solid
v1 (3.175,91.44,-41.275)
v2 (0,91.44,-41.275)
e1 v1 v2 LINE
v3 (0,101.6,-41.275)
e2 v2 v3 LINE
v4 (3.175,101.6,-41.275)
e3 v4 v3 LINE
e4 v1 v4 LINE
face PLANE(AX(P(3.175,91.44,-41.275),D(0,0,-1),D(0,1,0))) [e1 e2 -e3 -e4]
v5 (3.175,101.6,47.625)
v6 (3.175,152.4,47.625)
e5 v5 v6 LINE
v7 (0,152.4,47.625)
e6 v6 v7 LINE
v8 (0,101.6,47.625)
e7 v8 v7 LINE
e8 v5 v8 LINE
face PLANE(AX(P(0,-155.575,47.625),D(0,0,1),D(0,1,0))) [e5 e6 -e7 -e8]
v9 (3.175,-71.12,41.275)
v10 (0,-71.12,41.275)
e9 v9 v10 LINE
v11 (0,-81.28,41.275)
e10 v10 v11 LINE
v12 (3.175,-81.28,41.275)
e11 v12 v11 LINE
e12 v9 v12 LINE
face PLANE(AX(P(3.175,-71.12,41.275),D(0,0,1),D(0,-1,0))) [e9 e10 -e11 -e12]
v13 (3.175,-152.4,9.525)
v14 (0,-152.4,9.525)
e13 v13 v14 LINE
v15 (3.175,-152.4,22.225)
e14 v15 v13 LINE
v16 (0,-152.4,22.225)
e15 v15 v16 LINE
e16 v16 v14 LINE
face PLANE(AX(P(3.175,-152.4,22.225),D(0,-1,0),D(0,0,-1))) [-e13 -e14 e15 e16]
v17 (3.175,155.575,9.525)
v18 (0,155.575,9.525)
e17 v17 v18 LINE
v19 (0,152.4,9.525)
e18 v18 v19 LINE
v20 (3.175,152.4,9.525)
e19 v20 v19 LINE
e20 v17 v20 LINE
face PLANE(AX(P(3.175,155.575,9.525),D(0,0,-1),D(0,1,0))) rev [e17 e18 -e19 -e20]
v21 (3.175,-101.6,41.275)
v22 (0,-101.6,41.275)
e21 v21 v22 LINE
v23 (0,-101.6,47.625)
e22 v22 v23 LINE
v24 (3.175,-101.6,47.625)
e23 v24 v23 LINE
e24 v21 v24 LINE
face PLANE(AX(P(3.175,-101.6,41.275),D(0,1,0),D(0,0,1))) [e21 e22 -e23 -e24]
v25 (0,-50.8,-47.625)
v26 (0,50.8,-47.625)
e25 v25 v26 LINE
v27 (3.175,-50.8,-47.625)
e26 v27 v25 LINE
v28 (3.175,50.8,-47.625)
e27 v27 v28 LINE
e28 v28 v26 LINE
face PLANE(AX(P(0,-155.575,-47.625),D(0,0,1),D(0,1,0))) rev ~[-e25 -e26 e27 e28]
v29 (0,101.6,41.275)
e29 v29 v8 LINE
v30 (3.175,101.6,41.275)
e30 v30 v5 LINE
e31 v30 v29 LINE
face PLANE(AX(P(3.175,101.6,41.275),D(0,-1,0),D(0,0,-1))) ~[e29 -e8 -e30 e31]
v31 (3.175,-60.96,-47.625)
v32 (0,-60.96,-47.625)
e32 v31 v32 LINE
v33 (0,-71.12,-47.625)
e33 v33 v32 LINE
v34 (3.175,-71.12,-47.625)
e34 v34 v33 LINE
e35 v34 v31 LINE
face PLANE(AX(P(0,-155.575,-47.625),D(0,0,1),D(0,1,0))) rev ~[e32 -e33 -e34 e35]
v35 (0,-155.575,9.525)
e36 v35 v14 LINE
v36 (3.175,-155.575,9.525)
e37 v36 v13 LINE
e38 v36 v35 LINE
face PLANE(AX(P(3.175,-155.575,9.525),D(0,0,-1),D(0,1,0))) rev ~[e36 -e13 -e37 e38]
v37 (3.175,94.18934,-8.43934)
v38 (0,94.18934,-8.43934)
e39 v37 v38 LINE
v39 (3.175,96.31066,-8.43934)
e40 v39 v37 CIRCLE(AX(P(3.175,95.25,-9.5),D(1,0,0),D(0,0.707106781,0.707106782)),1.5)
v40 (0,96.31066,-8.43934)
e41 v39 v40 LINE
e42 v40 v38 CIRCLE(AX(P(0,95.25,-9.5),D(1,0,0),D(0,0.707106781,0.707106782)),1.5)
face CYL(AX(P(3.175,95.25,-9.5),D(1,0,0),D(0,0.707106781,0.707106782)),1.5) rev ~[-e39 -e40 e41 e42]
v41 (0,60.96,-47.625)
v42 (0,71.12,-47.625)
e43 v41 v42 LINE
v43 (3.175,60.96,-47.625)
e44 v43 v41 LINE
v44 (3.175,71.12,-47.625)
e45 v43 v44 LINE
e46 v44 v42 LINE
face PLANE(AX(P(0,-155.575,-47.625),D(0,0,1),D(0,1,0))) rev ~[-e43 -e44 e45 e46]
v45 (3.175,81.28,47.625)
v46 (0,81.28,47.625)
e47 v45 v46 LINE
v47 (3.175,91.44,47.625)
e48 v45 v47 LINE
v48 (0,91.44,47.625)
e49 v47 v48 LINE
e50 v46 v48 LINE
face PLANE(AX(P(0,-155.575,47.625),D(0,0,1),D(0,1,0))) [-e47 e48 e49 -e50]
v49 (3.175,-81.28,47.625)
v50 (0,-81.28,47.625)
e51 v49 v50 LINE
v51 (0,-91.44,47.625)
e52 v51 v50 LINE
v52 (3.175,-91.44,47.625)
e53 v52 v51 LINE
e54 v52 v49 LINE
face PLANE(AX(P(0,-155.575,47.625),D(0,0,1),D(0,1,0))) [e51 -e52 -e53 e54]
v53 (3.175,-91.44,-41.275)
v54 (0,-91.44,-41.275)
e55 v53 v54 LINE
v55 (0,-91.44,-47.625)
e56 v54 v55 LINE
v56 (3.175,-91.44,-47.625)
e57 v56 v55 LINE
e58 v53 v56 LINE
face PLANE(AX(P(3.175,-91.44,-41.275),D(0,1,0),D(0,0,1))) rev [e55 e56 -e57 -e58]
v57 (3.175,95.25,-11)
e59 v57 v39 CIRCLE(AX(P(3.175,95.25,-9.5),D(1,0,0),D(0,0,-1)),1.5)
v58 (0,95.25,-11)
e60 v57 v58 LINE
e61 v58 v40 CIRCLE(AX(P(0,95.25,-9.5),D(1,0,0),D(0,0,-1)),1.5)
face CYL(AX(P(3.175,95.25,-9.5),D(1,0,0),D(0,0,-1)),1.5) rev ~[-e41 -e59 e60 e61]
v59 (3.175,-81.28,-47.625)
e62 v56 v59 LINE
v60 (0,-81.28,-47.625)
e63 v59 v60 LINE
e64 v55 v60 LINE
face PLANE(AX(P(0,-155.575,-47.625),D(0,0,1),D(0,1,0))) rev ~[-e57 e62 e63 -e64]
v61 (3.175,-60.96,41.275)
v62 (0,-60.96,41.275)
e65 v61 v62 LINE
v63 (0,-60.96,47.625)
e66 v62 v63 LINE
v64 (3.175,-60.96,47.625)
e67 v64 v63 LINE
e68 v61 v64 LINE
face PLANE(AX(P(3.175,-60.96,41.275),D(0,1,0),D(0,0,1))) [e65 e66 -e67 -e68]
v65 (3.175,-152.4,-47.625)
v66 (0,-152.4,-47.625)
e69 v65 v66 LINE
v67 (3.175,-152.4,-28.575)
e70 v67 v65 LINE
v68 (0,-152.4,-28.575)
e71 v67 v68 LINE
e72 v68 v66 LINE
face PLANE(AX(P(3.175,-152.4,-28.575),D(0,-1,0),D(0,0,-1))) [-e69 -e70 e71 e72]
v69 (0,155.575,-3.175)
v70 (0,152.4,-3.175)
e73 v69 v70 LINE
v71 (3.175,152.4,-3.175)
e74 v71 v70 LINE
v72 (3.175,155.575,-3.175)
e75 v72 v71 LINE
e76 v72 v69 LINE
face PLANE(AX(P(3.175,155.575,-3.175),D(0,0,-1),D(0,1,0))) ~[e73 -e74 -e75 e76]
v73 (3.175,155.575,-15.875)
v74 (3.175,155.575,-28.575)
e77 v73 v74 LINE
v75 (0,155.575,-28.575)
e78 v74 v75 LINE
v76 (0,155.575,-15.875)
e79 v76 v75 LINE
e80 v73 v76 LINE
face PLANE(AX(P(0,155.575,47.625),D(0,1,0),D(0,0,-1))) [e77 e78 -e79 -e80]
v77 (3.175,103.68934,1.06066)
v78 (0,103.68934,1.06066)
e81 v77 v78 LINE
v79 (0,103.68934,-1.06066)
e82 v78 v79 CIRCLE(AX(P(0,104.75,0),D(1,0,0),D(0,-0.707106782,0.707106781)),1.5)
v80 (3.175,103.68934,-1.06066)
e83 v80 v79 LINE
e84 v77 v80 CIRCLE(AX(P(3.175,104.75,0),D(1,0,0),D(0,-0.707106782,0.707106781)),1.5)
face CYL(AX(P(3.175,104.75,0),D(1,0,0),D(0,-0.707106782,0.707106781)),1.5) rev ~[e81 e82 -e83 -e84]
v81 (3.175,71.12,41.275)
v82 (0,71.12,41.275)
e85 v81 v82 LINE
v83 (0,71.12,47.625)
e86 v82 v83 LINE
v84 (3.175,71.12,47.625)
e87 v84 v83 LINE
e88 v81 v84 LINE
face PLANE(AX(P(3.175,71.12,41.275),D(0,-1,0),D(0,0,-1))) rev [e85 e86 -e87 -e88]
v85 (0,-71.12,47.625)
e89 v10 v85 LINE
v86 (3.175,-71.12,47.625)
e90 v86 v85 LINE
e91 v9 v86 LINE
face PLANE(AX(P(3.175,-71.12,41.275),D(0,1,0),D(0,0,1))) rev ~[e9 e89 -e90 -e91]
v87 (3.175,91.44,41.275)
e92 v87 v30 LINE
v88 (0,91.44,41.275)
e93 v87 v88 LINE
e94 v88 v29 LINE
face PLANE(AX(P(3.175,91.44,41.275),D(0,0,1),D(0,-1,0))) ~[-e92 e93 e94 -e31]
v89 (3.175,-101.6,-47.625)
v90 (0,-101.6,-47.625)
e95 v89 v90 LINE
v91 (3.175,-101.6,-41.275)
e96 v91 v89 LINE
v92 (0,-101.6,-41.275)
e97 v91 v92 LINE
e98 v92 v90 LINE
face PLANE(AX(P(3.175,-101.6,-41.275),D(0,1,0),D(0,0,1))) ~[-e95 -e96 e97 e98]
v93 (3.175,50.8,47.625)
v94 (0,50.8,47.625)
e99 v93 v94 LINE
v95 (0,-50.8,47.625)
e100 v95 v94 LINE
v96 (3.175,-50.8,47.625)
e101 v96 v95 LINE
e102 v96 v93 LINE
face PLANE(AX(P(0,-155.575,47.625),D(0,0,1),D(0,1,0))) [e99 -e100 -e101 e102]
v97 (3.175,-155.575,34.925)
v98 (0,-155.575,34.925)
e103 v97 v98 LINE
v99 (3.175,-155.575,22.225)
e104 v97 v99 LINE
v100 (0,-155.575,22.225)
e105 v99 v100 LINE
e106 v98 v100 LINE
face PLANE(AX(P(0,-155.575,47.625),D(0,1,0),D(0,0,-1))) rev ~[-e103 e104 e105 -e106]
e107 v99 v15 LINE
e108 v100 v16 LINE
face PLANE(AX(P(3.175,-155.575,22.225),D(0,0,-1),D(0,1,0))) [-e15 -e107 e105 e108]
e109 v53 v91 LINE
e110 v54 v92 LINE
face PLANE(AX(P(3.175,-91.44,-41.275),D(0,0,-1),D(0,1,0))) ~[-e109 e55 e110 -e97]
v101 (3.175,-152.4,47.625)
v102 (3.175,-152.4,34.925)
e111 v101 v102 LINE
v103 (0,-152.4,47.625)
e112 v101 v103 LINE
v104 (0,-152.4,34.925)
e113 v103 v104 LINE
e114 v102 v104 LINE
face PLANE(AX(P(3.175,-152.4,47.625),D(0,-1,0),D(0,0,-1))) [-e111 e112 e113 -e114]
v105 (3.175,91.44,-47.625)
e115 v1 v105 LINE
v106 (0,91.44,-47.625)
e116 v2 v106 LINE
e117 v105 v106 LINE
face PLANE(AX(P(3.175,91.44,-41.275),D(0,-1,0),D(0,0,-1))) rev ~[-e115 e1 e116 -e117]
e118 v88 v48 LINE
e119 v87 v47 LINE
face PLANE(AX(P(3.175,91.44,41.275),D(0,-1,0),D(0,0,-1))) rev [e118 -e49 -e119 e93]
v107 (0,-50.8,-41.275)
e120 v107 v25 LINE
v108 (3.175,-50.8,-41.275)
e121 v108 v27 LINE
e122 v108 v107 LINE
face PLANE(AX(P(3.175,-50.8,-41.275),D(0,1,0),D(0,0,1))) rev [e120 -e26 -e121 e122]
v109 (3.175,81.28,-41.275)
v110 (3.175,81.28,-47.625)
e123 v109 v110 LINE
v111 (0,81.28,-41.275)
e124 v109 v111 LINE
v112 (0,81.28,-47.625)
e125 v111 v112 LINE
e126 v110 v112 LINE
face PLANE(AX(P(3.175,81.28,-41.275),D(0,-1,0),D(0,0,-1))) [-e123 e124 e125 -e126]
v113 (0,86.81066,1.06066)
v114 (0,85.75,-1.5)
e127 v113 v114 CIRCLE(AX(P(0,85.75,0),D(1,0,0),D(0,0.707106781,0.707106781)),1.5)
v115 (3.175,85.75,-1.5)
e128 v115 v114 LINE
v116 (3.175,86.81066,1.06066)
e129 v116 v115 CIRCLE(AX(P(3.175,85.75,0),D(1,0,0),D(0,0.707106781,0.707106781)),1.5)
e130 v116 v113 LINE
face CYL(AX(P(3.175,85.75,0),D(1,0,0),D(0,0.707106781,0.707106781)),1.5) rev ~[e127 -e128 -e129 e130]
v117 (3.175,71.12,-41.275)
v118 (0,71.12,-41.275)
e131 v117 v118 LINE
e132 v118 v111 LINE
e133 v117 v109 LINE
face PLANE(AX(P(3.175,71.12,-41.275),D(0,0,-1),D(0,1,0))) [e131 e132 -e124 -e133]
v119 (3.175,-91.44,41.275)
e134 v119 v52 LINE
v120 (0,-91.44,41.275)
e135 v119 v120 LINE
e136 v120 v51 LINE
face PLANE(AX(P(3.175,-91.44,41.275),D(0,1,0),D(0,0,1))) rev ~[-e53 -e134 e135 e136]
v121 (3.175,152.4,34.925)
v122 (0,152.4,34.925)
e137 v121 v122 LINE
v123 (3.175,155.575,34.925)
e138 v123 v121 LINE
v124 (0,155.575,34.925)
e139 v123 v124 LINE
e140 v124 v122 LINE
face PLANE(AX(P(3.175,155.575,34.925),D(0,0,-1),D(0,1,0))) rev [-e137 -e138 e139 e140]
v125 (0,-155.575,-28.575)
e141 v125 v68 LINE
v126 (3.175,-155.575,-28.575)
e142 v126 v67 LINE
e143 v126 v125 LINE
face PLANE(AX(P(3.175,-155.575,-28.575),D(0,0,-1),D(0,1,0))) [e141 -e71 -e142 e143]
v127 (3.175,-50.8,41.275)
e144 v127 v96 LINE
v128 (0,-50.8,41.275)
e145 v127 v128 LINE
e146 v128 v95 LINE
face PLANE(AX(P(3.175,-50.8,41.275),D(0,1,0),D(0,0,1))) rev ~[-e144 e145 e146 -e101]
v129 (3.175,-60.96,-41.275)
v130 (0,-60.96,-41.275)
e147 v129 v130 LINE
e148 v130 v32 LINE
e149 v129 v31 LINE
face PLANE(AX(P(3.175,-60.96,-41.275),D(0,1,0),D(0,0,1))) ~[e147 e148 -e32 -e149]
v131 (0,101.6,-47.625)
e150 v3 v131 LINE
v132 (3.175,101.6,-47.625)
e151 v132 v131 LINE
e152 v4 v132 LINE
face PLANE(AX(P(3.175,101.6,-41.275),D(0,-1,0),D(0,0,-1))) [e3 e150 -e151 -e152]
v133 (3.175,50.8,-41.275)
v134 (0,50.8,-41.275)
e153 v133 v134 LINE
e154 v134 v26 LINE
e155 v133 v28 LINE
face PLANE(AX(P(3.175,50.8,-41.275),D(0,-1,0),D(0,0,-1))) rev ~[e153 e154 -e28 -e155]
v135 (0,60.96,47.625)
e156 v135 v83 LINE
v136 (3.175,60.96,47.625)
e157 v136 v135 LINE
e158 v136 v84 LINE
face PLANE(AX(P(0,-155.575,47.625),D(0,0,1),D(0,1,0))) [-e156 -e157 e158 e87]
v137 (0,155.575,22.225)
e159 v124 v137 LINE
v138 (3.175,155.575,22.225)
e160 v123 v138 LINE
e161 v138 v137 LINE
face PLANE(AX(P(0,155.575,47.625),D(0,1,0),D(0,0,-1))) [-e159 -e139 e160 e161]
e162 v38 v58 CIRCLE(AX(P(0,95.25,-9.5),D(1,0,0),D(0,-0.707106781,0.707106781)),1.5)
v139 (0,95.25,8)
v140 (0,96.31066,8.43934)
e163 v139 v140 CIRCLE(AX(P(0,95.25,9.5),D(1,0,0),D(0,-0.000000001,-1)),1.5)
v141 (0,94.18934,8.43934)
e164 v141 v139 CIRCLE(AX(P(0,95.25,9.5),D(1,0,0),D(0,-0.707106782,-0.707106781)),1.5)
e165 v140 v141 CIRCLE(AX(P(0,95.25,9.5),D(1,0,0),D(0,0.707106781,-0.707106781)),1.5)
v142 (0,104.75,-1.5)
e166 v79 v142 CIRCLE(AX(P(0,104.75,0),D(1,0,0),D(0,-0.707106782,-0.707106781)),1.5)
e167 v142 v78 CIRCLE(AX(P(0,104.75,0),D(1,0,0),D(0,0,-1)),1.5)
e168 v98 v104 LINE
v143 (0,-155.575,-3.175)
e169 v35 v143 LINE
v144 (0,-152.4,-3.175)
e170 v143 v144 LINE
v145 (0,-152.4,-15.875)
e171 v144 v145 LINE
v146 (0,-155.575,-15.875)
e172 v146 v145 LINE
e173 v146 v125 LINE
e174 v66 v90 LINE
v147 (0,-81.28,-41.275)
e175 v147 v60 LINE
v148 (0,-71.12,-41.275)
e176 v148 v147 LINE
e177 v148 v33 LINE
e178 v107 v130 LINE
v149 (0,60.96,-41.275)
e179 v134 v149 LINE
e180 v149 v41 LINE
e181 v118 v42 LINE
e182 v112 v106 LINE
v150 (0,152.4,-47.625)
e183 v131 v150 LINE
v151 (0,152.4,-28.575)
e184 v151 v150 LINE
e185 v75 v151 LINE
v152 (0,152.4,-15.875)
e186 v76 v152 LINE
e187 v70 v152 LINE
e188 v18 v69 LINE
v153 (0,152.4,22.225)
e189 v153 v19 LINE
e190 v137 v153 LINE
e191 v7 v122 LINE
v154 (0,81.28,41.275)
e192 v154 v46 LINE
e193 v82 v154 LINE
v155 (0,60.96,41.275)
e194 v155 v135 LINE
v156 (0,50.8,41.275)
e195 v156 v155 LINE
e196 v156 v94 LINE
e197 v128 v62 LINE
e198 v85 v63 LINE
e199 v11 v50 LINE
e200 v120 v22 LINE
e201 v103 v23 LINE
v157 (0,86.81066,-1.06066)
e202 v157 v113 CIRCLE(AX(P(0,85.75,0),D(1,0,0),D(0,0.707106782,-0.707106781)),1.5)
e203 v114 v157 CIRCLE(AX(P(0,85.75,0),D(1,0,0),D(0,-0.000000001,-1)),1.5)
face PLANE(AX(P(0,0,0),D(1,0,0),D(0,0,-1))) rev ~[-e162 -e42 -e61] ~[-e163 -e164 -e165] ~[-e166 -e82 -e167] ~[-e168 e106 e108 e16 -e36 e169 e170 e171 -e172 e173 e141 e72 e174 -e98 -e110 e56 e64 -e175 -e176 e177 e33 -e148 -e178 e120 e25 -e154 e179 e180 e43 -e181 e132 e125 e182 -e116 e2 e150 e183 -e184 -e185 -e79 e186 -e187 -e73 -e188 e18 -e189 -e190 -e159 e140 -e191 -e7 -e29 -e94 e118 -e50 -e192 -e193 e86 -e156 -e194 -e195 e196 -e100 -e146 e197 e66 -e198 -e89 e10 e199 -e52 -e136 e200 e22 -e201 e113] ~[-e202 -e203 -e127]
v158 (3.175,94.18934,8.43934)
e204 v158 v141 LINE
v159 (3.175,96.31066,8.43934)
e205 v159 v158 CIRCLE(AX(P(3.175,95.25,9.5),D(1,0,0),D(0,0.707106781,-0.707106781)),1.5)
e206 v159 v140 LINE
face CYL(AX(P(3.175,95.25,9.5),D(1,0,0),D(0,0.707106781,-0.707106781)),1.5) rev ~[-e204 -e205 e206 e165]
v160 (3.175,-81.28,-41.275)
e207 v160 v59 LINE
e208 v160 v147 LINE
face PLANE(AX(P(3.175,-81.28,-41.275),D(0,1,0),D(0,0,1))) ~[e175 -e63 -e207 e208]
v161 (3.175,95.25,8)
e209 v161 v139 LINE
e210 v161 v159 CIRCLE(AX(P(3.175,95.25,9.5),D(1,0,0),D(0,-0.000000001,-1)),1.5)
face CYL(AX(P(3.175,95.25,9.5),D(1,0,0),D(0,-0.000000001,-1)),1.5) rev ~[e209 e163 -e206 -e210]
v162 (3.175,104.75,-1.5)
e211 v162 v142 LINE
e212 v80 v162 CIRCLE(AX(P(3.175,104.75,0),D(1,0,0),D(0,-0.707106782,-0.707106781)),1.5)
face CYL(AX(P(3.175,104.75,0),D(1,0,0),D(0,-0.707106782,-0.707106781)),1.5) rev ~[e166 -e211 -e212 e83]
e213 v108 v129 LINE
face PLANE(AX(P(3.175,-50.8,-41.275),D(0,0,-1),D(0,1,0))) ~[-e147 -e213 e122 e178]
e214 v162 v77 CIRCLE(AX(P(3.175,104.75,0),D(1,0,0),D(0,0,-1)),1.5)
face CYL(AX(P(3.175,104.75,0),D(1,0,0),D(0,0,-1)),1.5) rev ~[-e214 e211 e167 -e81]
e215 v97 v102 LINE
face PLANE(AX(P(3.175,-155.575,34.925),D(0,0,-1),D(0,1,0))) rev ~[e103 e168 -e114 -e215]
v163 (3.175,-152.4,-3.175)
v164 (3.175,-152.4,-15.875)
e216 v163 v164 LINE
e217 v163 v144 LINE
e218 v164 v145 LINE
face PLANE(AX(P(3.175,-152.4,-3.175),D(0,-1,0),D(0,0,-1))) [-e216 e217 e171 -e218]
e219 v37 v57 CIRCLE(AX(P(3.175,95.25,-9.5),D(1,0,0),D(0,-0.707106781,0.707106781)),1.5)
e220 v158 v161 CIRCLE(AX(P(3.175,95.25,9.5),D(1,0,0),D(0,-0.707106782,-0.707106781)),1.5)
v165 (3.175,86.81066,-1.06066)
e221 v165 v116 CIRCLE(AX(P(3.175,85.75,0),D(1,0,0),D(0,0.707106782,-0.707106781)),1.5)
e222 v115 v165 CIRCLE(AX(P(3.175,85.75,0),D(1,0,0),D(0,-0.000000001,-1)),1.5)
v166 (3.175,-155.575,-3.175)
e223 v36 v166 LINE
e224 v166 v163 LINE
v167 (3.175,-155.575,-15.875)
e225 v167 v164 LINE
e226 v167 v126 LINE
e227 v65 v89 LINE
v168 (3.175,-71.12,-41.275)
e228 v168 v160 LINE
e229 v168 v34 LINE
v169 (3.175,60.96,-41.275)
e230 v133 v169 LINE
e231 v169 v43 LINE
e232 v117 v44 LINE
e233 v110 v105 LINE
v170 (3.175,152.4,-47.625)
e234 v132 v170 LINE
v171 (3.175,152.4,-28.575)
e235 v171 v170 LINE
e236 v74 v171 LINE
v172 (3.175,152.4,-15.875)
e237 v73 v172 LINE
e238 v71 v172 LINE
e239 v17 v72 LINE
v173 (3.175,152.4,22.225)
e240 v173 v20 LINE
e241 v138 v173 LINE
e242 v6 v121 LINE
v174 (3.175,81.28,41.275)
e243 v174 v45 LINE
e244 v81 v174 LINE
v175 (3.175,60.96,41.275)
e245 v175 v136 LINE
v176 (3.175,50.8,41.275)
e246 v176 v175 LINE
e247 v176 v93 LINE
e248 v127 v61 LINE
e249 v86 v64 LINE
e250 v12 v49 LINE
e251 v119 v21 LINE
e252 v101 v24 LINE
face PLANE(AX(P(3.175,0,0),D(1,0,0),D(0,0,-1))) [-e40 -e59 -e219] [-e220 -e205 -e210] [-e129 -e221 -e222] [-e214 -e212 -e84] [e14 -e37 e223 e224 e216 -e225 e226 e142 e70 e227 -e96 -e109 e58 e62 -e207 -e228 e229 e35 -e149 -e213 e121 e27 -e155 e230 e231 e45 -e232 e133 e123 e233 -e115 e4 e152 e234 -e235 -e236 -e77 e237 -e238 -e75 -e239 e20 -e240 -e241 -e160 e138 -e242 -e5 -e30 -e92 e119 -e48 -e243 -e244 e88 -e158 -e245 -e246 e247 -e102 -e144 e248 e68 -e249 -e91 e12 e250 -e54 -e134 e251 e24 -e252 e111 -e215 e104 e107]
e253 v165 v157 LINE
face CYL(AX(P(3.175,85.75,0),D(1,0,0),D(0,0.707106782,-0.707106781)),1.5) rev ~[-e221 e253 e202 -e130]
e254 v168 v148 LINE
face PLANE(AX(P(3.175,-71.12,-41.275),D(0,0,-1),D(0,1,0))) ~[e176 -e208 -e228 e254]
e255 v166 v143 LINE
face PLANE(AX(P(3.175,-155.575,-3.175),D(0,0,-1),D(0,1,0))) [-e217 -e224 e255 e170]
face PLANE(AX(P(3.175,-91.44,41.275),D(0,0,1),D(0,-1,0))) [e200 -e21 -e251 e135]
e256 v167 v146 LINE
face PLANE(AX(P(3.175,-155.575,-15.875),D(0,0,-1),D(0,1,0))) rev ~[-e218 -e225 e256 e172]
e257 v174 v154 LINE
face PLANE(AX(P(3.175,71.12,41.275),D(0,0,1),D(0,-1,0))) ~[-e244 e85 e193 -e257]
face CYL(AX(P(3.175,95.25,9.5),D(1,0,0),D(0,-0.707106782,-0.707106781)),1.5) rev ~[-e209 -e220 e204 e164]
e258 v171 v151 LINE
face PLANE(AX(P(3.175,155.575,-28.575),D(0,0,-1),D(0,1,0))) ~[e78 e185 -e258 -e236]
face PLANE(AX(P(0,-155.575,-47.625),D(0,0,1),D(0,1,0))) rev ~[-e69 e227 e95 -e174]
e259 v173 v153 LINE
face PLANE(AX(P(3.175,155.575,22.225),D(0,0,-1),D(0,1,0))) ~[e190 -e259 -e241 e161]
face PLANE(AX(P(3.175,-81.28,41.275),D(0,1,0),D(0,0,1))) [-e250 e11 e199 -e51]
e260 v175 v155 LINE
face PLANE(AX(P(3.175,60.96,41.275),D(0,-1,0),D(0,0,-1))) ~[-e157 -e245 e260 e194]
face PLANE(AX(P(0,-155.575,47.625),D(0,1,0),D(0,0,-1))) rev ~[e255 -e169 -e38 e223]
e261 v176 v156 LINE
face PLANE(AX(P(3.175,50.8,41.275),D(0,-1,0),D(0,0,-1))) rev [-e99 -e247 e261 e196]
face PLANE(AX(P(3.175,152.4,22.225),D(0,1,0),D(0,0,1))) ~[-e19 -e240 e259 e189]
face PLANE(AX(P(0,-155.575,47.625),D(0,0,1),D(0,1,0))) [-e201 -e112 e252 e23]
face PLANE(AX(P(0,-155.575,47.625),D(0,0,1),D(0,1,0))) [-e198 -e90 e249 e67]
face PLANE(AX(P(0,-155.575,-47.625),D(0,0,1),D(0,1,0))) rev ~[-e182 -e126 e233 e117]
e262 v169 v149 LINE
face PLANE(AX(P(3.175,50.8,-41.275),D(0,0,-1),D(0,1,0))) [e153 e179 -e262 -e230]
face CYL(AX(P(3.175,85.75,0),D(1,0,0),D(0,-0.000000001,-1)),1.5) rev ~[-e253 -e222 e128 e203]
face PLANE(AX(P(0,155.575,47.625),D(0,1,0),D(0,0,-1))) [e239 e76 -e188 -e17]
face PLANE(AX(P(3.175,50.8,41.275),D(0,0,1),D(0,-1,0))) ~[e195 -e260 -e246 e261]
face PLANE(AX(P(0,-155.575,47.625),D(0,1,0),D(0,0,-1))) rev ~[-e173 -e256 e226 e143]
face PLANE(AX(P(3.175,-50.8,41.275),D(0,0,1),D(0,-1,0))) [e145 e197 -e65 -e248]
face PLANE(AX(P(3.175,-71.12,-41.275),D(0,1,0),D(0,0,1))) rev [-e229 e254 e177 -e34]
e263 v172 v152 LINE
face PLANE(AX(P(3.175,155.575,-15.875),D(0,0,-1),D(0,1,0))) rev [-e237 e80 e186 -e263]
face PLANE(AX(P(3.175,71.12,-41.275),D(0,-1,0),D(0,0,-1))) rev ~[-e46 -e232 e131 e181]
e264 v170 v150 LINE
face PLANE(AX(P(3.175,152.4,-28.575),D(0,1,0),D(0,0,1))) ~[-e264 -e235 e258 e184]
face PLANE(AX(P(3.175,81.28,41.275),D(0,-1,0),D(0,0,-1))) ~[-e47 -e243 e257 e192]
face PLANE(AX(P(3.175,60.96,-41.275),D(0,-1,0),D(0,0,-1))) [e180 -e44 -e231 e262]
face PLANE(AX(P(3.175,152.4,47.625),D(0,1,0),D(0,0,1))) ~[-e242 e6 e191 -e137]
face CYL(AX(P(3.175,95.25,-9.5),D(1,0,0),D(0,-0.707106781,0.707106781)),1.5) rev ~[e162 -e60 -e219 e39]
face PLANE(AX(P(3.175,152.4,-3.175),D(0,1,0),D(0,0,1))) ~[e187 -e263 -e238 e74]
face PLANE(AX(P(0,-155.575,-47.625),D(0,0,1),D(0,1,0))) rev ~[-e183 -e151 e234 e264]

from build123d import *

# Parameters (mm, degrees)
SKETCH1_W               = 95.25
SKETCH1_H               = 311.15
BOSS_EXTRUDE1_DEPTH     = 3.175
SKETCH2_W               = 12.7
SKETCH2_H               = 3.175
SKETCH2_W_2             = 19.05
CUT_EXTRUDE1_DEPTH      = 3.175
SKETCH3_W               = 6.35
SKETCH3_H               = 10.16
CUT_EXTRUDE2_DEPTH      = 3.175
MIRROR3_COPY_1_SKETCH_W = 6.35
MIRROR3_COPY_1_SKETCH_H = 10.16
MIRROR3_COPY_1_DEPTH    = 3.175
CUT_EXTRUDE3_DEPTH      = 3.175


with BuildPart() as part:
    # Sketch1 → Boss-Extrude1 (new body)
    with BuildSketch(Plane(origin=(0, 0, 0), x_dir=(0, 0, -1), z_dir=(1, 0, 0))):
        Rectangle(SKETCH1_W, SKETCH1_H)
    extrude(amount=BOSS_EXTRUDE1_DEPTH)

    # Sketch2 → Cut-Extrude1 (cut)
    with BuildSketch(Plane(origin=(3.175, 0, 0), x_dir=(0, 0, -1), z_dir=(1, 0, 0))):
        with Locations((9.525, -153.9875)):
            Rectangle(SKETCH2_W, SKETCH2_H)
        with Locations((-15.875, -153.9875)):
            Rectangle(SKETCH2_W, SKETCH2_H)
        with Locations((-41.275, -153.9875)):
            Rectangle(SKETCH2_W, SKETCH2_H)
        with Locations((38.1, -153.9875)):
            Rectangle(SKETCH2_W_2, SKETCH2_H)
    cut_extrude1 = extrude(amount=-CUT_EXTRUDE1_DEPTH, mode=Mode.SUBTRACT)

    # Mirror1: Cut-Extrude1 across plane
    add(cut_extrude1.mirror(Plane.ZX), mode=Mode.SUBTRACT)

    # Sketch3 → Cut-Extrude2 (cut)
    with BuildSketch(Plane(origin=(3.175, 0, 0), x_dir=(0, 0, -1), z_dir=(1, 0, 0))):
        with Locations((44.45, 96.52)):
            Rectangle(SKETCH3_W, SKETCH3_H)
        with Locations((44.45, 76.2)):
            Rectangle(SKETCH3_W, SKETCH3_H)
        with Locations((44.45, 55.88)):
            Rectangle(SKETCH3_W, SKETCH3_H)
    cut_extrude2 = extrude(amount=-CUT_EXTRUDE2_DEPTH, mode=Mode.SUBTRACT)

    # Mirror2: Cut-Extrude2 across plane
    add(cut_extrude2.mirror(Plane.XY), mode=Mode.SUBTRACT)

    # Mirror3: Cut-Extrude2 across plane
    add(cut_extrude2.mirror(Plane.ZX), mode=Mode.SUBTRACT)

    # Mirror3 copy 1 sketch → Mirror3 copy 1 (cut)
    with BuildSketch(Plane(origin=(3.175, 0, 0), x_dir=(0, 0, 1), z_dir=(1, 0, 0))):
        with Locations((44.45, 96.52)):
            Rectangle(MIRROR3_COPY_1_SKETCH_W, MIRROR3_COPY_1_SKETCH_H)
        with Locations((44.45, 76.2)):
            Rectangle(MIRROR3_COPY_1_SKETCH_W, MIRROR3_COPY_1_SKETCH_H)
        with Locations((44.45, 55.88)):
            Rectangle(MIRROR3_COPY_1_SKETCH_W, MIRROR3_COPY_1_SKETCH_H)
    extrude(amount=-MIRROR3_COPY_1_DEPTH, mode=Mode.SUBTRACT)

    # Sketch5 → Cut-Extrude3 (cut)
    with BuildSketch(Plane(origin=(3.175, 0, 0), x_dir=(0, 0, -1), z_dir=(1, 0, 0))):
        with BuildLine():
            Line((1.060660172, 103.689339828), (0, 104.75))
            Line((0, 104.75), (-1.060660172, 103.689339828))
            ThreePointArc((-1.060660172, 103.689339828), (0, 103.25), (1.060660172, 103.689339828))
        make_face()
        with BuildLine():
            Line((-1.060660172, 103.689339828), (0, 104.75))
            Line((0, 104.75), (1.060660172, 103.689339828))
            ThreePointArc((1.060660172, 103.689339828), (1.385819299, 104.175974851), (1.5, 104.75))
            ThreePointArc((1.5, 104.75), (-0.574025149, 106.135819299), (-1.060660172, 103.689339828))
        make_face()
        with BuildLine():
            ThreePointArc((11, 95.25), (10.074025149, 96.635819299), (8.439339828, 96.310660172))
            Line((8.439339828, 96.310660172), (9.5, 95.25))
            Line((9.5, 95.25), (8.439339828, 94.189339828))
            ThreePointArc((8.439339828, 94.189339828), (10.074025149, 93.864180701), (11, 95.25))
        make_face()
        with BuildLine():
            Line((9.5, 95.25), (8.439339828, 96.310660172))
            ThreePointArc((8.439339828, 96.310660172), (8, 95.25), (8.439339828, 94.189339828))
            Line((8.439339828, 94.189339828), (9.5, 95.25))
        make_face()
        with BuildLine():
            ThreePointArc((-8, 95.25), (-8.114180701, 95.824025149), (-8.439339828, 96.310660172))
            Line((-8.439339828, 96.310660172), (-9.5, 95.25))
            Line((-9.5, 95.25), (-8.439339828, 94.189339828))
            ThreePointArc((-8.439339828, 94.189339828), (-8.114180701, 94.675974851), (-8, 95.25))
        make_face()
        with BuildLine():
            Line((-9.5, 95.25), (-8.439339828, 96.310660172))
            ThreePointArc((-8.439339828, 96.310660172), (-11, 95.25), (-8.439339828, 94.189339828))
            Line((-8.439339828, 94.189339828), (-9.5, 95.25))
        make_face()
        with BuildLine():
            ThreePointArc((1.060660172, 86.810660172), (0, 87.25), (-1.060660172, 86.810660172))
            Line((-1.060660172, 86.810660172), (0, 85.75))
            Line((0, 85.75), (1.060660172, 86.810660172))
        make_face()
        with BuildLine():
            Line((0, 85.75), (-1.060660172, 86.810660172))
            ThreePointArc((-1.060660172, 86.810660172), (-0.574025149, 84.364180701), (1.5, 85.75))
            ThreePointArc((1.5, 85.75), (1.385819299, 86.324025149), (1.060660172, 86.810660172))
            Line((1.060660172, 86.810660172), (0, 85.75))
        make_face()
    extrude(amount=-CUT_EXTRUDE3_DEPTH, mode=Mode.SUBTRACT)


solid = part.part
